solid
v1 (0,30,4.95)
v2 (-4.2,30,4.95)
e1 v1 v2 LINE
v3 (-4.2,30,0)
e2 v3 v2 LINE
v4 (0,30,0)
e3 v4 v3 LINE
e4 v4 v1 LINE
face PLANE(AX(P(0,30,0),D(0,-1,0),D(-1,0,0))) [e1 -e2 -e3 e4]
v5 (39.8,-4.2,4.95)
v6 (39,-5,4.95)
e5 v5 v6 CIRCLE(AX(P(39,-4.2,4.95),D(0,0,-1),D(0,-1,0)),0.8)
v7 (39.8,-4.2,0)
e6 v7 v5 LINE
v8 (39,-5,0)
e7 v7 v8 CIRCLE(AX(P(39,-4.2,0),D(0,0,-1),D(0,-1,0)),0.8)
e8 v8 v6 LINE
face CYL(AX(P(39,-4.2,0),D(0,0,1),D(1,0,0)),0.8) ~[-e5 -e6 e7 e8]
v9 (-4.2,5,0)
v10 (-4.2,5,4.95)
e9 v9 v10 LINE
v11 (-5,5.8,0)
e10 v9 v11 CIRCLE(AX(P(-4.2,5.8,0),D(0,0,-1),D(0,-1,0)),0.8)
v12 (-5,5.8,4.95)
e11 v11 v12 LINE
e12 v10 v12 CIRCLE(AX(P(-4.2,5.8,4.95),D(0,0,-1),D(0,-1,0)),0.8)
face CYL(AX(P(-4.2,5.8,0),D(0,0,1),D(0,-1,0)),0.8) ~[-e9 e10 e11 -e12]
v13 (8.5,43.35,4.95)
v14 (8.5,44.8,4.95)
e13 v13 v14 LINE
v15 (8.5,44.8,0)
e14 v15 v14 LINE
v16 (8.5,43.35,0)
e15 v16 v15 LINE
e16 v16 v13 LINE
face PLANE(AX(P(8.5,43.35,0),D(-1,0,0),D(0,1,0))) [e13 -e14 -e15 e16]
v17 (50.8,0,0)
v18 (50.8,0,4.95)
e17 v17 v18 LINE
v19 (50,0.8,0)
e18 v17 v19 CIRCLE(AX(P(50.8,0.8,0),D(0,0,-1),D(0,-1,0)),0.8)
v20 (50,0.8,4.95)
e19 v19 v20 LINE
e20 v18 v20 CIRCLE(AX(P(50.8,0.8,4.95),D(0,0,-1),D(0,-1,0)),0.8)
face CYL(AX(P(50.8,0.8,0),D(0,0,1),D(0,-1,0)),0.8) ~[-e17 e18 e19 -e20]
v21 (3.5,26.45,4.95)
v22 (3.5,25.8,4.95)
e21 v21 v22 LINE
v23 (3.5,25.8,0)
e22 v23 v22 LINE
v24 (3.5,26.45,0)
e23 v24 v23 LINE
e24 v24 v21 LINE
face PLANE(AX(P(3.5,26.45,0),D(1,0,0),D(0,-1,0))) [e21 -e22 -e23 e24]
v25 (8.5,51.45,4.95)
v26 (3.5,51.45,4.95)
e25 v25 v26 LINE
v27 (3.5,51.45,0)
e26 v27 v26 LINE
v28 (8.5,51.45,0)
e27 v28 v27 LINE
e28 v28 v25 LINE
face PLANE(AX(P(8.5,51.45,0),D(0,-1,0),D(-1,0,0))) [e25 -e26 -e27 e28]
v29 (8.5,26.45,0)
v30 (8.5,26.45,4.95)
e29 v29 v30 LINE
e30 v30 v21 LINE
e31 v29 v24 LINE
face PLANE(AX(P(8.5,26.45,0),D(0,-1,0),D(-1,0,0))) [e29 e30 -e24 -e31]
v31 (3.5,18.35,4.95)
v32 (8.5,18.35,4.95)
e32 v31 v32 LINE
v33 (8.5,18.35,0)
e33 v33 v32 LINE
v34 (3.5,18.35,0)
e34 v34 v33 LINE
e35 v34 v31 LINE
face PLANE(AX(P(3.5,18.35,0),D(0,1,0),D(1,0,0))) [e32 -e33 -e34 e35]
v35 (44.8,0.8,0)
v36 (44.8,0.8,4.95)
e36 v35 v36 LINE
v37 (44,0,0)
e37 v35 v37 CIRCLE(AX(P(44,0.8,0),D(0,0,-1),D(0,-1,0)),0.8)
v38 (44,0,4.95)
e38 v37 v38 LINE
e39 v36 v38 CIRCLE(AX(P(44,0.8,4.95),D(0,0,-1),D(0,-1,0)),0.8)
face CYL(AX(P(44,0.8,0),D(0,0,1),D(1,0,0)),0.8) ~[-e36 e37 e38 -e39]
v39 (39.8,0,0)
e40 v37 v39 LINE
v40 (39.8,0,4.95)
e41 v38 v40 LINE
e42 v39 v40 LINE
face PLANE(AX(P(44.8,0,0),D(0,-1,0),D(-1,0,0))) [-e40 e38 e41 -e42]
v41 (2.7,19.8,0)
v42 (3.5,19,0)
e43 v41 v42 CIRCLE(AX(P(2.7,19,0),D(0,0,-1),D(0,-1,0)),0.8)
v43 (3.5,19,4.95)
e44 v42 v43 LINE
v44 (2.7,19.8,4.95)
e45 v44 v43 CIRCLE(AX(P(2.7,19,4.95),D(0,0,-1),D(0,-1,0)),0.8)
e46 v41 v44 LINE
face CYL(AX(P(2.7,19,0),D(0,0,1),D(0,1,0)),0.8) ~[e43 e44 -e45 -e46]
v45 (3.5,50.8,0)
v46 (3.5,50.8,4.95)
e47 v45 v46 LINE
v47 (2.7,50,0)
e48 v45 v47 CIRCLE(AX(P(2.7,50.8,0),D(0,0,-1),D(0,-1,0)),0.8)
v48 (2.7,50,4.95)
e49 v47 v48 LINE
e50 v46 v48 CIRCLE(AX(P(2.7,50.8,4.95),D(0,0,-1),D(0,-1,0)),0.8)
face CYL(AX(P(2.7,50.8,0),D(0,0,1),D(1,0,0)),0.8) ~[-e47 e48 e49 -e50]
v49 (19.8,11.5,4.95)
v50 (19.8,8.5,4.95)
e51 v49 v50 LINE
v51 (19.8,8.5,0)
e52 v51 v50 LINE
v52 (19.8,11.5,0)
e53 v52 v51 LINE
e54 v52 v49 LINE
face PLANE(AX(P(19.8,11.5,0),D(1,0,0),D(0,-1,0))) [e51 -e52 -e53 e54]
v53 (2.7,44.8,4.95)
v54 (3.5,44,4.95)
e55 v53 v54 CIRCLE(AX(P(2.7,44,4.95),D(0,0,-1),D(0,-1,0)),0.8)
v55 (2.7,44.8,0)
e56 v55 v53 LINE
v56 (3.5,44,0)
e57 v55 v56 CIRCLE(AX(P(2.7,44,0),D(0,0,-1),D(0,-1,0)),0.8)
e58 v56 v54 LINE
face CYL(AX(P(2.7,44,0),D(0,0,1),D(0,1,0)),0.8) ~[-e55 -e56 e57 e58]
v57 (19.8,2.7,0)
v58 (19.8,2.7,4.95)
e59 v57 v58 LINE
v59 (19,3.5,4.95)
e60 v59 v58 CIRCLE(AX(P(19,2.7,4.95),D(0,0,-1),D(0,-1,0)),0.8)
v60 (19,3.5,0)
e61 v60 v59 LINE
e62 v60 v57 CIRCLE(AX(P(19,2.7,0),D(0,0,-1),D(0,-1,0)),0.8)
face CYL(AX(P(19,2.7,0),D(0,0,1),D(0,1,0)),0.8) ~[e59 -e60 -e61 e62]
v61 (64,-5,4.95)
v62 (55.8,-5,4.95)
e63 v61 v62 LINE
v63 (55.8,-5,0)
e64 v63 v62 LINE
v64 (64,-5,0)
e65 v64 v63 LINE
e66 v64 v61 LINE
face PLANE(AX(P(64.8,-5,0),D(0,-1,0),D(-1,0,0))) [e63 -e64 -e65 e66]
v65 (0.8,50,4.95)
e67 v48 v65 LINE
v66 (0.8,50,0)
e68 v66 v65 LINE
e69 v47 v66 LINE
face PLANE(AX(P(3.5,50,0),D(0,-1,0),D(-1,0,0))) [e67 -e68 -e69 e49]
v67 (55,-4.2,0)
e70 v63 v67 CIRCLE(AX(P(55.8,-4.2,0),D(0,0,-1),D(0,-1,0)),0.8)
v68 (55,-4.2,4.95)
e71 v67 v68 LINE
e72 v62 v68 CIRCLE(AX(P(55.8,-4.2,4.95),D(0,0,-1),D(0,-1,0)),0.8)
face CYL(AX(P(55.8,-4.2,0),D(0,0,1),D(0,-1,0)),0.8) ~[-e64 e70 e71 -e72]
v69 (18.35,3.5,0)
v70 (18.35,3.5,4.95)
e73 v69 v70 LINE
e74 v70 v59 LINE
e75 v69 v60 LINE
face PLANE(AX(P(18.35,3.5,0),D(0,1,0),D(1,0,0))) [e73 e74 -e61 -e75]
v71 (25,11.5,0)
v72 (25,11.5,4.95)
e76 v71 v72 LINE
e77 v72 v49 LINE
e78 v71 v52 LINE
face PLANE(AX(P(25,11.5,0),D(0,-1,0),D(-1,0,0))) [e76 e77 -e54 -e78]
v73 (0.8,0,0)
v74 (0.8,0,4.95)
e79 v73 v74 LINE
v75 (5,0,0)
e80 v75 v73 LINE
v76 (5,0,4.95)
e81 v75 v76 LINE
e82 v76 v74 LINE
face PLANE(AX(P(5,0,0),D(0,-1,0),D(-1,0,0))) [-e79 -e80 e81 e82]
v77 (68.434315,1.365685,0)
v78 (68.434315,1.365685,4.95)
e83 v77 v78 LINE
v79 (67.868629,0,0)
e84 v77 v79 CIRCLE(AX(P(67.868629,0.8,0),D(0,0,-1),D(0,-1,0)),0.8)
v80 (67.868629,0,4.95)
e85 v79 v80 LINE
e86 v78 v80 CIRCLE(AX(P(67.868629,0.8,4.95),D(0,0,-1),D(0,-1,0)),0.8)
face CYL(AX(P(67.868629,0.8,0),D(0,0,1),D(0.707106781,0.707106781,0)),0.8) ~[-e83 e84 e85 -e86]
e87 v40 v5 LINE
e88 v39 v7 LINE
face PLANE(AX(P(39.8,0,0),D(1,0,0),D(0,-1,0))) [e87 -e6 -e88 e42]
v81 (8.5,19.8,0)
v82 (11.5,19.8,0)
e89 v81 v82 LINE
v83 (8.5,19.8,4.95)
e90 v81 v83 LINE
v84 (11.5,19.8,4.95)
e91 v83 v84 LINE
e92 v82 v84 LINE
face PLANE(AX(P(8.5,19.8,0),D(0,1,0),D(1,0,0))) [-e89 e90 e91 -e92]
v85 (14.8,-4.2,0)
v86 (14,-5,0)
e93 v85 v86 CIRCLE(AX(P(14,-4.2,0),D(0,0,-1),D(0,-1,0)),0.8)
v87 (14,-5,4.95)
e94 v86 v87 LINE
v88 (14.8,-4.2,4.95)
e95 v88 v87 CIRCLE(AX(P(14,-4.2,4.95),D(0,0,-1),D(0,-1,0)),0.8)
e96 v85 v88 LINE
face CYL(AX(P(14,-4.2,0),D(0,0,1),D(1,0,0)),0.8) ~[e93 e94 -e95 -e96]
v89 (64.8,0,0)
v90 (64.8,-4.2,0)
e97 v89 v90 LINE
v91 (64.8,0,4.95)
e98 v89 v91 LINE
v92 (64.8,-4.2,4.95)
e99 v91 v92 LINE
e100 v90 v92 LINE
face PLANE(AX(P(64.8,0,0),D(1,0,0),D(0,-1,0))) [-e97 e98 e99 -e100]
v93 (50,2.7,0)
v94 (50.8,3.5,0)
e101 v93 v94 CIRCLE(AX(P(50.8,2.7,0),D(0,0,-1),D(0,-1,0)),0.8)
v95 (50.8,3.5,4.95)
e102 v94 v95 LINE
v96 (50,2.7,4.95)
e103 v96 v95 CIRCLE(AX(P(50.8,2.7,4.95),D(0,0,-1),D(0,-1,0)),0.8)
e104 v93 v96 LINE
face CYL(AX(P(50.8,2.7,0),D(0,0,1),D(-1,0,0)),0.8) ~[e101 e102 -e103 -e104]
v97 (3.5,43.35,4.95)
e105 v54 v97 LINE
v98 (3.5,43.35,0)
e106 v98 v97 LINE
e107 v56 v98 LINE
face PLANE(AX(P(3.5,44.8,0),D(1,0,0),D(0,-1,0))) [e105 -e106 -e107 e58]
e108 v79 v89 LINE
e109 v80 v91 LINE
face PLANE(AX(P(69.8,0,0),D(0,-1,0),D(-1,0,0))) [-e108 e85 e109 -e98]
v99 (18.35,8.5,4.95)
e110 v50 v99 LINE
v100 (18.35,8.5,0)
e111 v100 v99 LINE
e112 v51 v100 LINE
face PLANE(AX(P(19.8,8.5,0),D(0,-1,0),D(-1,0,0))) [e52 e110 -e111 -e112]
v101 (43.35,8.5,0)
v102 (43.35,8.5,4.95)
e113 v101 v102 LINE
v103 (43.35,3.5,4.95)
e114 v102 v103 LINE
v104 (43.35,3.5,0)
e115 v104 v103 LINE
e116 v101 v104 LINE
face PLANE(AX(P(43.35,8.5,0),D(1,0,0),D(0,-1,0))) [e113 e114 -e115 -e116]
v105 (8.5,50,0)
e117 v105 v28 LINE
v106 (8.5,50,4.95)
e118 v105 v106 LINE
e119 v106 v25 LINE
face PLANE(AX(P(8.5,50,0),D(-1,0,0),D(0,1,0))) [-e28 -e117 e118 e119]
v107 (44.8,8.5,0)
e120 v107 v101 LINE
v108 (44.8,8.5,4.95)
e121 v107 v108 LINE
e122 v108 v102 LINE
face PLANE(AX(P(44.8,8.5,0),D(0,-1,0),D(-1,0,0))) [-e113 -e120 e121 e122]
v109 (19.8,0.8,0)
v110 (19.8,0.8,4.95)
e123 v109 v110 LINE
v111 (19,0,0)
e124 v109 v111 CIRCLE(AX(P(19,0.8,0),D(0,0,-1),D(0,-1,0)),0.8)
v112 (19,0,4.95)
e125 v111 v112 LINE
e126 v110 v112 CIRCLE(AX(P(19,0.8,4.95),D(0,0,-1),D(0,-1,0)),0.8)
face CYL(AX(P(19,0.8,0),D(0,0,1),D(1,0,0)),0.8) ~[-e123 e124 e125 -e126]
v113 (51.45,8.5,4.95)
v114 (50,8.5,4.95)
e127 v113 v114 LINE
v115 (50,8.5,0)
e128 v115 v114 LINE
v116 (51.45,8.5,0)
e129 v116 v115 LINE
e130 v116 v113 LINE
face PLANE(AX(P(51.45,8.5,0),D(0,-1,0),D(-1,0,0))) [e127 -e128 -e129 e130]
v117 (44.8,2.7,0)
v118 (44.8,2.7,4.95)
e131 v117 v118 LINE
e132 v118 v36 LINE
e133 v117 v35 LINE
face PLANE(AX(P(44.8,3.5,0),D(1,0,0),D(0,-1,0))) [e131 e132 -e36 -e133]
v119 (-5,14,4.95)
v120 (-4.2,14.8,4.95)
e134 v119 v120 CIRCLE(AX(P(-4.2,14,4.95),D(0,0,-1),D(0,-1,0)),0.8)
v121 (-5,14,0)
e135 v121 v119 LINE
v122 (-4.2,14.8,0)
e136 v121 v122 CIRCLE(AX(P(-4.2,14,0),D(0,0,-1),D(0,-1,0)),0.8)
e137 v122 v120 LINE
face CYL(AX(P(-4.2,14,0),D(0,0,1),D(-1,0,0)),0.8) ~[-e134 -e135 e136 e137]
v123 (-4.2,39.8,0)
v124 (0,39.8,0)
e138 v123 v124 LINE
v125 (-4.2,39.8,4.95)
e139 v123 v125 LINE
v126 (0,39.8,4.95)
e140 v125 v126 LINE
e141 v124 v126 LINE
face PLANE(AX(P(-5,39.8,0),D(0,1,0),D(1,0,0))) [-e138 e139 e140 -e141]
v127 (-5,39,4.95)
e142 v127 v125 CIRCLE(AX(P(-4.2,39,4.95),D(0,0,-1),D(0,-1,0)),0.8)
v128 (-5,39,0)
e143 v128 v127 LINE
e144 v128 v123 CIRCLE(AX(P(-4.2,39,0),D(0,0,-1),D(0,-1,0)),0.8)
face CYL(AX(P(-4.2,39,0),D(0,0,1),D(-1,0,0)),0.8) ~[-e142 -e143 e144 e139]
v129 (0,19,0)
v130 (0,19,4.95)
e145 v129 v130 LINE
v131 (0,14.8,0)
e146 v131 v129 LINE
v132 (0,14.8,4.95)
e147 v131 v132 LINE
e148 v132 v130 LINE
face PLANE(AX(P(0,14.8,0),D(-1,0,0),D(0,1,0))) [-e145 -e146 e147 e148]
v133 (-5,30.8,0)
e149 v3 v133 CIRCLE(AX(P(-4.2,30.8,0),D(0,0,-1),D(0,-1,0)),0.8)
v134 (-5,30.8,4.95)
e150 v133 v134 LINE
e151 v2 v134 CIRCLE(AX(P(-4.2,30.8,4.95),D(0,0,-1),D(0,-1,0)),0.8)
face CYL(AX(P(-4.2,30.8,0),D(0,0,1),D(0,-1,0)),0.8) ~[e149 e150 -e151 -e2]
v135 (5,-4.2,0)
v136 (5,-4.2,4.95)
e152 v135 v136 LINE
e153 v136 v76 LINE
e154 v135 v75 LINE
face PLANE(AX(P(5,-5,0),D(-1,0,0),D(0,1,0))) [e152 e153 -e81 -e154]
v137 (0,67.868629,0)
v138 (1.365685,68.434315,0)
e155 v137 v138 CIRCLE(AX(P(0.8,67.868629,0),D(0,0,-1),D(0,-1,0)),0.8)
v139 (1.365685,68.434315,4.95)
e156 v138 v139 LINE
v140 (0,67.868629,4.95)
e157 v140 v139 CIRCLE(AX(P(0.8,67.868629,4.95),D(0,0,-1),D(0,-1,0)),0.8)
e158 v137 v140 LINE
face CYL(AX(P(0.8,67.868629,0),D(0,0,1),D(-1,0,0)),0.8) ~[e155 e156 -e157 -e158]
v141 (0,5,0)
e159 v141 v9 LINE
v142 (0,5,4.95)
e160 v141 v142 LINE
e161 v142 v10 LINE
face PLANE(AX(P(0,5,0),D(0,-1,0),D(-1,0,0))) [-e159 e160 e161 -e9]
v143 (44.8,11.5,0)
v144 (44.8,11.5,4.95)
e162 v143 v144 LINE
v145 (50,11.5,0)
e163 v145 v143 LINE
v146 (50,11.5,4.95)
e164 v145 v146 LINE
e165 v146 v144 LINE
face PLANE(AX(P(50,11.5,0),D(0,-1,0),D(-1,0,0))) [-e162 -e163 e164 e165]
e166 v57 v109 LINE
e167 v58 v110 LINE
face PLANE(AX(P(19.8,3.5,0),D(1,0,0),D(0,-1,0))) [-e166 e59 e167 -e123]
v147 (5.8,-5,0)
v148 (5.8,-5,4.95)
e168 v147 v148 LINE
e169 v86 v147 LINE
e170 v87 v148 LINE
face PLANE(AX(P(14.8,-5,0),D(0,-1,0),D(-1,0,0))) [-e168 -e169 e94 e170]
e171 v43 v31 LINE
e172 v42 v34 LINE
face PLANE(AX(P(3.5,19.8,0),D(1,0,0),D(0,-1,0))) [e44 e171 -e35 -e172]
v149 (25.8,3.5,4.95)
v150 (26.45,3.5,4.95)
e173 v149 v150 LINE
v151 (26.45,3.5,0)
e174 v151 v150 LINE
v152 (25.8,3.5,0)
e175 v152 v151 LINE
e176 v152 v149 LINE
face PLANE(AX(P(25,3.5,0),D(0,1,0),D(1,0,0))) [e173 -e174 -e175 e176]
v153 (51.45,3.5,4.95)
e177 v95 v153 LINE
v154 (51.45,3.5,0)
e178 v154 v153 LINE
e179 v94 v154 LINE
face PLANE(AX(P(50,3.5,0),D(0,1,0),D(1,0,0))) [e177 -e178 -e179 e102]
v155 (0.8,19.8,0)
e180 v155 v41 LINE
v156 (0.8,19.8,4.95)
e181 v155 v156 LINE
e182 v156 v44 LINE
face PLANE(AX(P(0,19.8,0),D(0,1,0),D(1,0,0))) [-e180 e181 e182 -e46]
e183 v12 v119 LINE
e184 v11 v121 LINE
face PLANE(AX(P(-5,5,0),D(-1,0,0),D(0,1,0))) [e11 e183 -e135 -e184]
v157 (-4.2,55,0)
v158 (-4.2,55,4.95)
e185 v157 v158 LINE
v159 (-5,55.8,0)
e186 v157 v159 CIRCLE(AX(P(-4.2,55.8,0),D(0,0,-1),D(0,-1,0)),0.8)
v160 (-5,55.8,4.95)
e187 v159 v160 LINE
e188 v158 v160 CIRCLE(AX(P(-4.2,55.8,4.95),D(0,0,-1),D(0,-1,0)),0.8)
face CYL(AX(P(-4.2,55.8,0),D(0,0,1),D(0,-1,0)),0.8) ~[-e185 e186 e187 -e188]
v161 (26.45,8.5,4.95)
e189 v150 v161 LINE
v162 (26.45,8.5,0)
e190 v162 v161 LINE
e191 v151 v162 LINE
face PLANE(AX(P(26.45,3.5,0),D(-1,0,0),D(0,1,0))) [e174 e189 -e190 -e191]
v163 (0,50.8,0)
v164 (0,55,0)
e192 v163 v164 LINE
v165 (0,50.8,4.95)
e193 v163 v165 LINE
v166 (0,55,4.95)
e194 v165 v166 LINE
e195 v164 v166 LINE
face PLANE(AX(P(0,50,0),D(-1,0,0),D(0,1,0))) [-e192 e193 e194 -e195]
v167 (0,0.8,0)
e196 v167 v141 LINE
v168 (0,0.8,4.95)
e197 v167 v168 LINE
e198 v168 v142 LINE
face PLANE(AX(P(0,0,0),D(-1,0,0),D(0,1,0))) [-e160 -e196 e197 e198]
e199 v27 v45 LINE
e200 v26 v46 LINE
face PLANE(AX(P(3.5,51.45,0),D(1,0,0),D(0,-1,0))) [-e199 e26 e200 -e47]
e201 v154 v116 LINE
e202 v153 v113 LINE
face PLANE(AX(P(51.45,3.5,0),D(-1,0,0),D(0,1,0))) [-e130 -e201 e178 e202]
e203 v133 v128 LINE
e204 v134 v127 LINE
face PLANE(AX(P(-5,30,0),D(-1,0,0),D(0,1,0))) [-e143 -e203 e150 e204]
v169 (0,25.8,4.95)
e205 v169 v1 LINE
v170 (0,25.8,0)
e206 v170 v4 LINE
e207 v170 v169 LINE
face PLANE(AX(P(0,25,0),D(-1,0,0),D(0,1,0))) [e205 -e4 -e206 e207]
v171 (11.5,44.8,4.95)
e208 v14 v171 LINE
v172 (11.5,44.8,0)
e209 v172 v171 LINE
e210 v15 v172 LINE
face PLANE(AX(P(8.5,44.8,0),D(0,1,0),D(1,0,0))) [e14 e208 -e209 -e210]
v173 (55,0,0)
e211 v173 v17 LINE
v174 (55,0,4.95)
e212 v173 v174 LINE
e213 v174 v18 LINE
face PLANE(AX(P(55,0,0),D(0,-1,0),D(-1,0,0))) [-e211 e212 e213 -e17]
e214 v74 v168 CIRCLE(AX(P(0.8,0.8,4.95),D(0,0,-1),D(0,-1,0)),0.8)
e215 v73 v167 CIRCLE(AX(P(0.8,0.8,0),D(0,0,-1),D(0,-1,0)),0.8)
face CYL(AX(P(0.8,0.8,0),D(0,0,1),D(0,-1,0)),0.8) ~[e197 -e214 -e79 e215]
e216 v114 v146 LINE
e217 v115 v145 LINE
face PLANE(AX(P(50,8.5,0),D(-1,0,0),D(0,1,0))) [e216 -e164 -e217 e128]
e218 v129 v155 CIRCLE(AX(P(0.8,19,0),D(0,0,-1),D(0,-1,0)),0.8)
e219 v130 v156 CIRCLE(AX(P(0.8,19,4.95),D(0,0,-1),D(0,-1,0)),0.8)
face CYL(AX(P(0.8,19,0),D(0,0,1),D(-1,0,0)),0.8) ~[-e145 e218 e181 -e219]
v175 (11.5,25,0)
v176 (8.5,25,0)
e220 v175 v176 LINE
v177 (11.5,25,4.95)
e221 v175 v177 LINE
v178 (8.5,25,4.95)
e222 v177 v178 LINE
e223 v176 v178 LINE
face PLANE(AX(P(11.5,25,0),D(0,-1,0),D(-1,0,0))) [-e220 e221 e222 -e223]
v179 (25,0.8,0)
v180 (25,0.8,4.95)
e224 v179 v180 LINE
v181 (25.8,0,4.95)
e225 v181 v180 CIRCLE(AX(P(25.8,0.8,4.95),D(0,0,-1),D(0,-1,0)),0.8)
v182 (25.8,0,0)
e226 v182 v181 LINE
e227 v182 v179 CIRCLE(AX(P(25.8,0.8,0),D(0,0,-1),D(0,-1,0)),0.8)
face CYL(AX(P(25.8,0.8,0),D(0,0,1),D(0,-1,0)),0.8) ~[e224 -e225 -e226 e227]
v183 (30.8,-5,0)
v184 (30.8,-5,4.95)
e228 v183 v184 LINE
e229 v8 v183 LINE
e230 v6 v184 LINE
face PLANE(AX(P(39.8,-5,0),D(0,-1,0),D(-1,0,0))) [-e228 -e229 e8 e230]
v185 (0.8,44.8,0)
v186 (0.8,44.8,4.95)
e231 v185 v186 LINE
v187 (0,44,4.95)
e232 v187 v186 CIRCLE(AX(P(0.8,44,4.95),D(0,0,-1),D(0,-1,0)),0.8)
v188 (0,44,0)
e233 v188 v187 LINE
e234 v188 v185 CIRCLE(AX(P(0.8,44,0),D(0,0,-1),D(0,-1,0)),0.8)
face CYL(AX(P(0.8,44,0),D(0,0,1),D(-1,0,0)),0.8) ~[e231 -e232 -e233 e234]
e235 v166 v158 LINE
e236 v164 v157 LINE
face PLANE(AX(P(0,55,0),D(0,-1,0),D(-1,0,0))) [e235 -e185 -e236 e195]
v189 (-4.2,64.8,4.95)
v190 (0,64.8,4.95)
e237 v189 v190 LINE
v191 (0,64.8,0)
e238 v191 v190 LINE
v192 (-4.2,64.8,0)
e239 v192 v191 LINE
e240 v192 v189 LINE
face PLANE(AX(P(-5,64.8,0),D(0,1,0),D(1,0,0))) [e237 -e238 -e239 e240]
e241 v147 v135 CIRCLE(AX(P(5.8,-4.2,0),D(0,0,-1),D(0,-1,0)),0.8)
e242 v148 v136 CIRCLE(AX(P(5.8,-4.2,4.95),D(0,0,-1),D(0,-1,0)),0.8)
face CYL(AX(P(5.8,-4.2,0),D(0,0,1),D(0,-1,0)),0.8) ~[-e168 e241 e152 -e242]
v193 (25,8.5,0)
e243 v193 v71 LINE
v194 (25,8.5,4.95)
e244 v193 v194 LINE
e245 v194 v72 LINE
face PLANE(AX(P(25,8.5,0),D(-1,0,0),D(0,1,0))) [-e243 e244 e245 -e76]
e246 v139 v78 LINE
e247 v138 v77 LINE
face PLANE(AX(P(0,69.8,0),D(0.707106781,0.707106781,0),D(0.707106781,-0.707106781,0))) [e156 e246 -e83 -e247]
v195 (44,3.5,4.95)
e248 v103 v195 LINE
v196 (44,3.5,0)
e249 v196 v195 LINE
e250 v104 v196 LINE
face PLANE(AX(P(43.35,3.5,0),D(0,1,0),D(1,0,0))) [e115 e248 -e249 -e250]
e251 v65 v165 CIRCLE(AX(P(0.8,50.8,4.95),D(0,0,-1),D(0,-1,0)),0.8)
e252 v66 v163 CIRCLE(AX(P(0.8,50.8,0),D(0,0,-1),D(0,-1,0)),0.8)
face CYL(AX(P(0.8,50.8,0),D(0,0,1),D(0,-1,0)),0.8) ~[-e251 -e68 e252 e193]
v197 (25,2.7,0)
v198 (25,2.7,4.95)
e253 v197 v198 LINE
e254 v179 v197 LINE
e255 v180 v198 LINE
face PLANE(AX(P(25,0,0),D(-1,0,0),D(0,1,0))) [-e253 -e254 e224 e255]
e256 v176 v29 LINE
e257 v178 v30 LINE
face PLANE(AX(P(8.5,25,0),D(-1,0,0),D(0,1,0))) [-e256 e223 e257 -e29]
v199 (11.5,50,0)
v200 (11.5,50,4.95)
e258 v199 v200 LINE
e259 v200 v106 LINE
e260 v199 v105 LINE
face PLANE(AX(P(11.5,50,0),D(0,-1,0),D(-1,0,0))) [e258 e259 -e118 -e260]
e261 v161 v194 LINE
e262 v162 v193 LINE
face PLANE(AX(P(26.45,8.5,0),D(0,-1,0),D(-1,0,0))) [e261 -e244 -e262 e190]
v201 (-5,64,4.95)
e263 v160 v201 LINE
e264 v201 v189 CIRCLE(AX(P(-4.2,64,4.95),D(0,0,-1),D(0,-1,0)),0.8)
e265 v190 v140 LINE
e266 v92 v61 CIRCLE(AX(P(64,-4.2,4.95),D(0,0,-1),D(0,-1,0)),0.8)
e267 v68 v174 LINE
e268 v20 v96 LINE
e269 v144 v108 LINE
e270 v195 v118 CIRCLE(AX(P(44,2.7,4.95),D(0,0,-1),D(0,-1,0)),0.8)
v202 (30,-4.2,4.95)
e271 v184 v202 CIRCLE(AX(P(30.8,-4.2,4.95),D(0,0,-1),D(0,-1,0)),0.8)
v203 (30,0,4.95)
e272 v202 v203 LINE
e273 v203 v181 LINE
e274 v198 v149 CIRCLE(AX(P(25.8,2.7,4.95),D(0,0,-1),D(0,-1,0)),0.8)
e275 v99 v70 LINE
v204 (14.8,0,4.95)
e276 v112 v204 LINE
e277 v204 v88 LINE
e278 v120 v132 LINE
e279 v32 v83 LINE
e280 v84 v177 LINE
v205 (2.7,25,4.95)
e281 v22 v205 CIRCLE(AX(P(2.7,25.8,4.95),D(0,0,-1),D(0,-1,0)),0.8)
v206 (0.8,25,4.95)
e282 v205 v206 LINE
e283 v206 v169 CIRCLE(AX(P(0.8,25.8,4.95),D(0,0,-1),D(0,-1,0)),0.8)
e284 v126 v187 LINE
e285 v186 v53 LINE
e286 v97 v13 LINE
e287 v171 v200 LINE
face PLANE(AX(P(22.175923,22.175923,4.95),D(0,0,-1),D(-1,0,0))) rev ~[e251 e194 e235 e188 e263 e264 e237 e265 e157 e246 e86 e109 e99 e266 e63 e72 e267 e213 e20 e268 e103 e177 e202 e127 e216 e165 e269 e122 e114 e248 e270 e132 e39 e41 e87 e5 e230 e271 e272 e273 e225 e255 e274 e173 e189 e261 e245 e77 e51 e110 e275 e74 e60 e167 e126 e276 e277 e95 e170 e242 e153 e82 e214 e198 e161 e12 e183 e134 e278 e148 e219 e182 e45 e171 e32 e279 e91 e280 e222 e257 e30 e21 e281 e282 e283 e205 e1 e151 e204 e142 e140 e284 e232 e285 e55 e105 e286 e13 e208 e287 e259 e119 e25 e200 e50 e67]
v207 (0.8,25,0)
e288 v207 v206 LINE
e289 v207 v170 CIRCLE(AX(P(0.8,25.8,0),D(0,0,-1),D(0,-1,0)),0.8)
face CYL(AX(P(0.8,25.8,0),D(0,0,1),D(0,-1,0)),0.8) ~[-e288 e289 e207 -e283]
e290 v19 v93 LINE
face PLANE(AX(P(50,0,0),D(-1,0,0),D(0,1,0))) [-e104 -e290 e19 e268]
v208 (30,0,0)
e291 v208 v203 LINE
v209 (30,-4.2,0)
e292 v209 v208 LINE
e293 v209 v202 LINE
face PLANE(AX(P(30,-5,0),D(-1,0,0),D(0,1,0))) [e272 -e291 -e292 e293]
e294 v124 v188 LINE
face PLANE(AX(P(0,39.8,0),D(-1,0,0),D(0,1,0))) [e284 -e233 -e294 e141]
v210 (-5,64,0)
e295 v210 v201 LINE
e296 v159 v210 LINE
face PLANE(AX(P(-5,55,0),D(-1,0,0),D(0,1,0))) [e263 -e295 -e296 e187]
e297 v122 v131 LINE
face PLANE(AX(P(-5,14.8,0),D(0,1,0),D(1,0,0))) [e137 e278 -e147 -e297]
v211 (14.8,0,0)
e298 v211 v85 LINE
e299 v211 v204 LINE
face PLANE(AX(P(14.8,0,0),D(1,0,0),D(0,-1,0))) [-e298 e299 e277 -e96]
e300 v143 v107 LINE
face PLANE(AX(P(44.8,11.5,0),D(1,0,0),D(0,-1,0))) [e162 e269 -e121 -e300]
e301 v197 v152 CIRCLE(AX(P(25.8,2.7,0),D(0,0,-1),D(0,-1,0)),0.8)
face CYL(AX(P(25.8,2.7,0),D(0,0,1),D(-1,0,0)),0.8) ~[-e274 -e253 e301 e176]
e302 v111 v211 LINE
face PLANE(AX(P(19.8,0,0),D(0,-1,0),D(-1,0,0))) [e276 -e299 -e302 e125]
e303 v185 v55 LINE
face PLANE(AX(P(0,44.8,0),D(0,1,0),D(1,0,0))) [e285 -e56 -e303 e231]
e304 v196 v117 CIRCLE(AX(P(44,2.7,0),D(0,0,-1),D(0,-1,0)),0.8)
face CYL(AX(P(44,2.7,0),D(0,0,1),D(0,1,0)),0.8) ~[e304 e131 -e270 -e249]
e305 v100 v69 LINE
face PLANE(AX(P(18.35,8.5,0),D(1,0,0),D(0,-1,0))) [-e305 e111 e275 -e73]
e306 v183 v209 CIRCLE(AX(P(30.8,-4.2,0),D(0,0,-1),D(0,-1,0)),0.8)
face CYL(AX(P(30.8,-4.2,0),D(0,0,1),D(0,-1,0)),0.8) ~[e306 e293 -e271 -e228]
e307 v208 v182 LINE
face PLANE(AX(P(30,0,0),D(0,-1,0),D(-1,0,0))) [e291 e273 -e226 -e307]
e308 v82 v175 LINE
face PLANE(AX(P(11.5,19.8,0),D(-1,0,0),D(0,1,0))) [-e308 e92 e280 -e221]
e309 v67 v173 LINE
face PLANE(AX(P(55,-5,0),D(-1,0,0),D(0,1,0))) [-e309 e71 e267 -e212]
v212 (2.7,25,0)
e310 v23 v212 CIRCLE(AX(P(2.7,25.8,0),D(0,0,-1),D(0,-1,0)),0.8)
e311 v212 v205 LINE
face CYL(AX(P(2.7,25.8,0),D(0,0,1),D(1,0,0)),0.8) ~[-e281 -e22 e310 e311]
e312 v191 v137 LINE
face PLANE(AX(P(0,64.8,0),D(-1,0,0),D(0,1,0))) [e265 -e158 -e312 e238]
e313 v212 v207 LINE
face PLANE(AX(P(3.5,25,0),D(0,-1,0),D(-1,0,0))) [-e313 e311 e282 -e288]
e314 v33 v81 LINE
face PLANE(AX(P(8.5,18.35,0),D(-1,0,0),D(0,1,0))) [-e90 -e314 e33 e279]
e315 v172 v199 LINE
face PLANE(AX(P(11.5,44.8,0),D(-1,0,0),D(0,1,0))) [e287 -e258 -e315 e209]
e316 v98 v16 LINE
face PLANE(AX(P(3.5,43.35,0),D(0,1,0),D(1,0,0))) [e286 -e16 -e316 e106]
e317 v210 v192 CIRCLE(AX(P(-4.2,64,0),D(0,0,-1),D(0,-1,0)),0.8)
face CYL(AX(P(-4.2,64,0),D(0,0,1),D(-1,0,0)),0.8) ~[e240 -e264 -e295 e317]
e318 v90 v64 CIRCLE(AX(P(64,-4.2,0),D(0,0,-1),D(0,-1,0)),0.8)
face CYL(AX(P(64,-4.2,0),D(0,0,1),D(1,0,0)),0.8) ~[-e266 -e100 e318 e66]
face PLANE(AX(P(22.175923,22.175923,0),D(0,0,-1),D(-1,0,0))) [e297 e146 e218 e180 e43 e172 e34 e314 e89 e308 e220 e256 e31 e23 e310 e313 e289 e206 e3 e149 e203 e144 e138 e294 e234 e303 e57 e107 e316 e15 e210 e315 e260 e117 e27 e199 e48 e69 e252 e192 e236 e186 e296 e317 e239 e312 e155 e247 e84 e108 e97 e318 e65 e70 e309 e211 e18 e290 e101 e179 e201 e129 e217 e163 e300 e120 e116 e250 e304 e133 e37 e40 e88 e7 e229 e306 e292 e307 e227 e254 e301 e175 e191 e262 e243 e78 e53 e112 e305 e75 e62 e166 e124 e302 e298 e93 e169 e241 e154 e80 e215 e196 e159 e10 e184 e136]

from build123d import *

# Parameters (mm, degrees)
BOSS_EXTRUDE1_DEPTH = 4.95
FILLET1_R           = 0.8


with BuildPart() as part:
    # Sketch2 → Boss-Extrude1 (new body)
    with BuildSketch(Plane.XY):
        Polygon((11.5, 25), (8.5, 25), (8.5, 26.45), (3.5, 26.45), (3.5, 25), (0, 25), (0, 30), (-5, 30), (-5, 39.8), (0, 39.8), (0, 44.8), (3.5, 44.8), (3.5, 43.35), (8.5, 43.35), (8.5, 44.8), (11.5, 44.8), (11.5, 50), (8.5, 50), (8.5, 51.45), (3.5, 51.45), (3.5, 50), (0, 50), (0, 55), (-5, 55), (-5, 64.8), (0, 64.8), (0, 69.8), (69.8, 0), (64.8, 0), (64.8, -5), (55, -5), (55, 0), (50, 0), (50, 3.5), (51.45, 3.5), (51.45, 8.5), (50, 8.5), (50, 11.5), (44.8, 11.5), (44.8, 8.5), (43.35, 8.5), (43.35, 3.5), (44.8, 3.5), (44.8, 0), (39.8, 0), (39.8, -5), (30, -5), (30, 0), (25, 0), (25, 3.5), (26.45, 3.5), (26.45, 8.5), (25, 8.5), (25, 11.5), (19.8, 11.5), (19.8, 8.5), (18.35, 8.5), (18.35, 3.5), (19.8, 3.5), (19.8, 0), (14.8, 0), (14.8, -5), (5, -5), (5, 0), (0, 0), (0, 5), (-5, 5), (-5, 14.8), (0, 14.8), (0, 19.8), (3.5, 19.8), (3.5, 18.35), (8.5, 18.35), (8.5, 19.8), (11.5, 19.8), align=None)
    extrude(amount=BOSS_EXTRUDE1_DEPTH)

    # Fillet1
    fillet1_edges = [part.edges().sort_by_distance(p)[0] for p in [
        (19.8, 3.5, 2.475),
        (19.8, 0, 2.475),
        (14.8, -5, 2.475),
        (5, -5, 2.475),
        (0, 0, 2.475),
        (-5, 5, 2.475),
        (-5, 14.8, 2.475),
        (0, 19.8, 2.475),
        (3.5, 19.8, 2.475),
        (3.5, 25, 2.475),
        (0, 25, 2.475),
        (-5, 30, 2.475),
        (-5, 39.8, 2.475),
        (0, 44.8, 2.475),
        (3.5, 44.8, 2.475),
        (3.5, 50, 2.475),
        (0, 50, 2.475),
        (-5, 55, 2.475),
        (-5, 64.8, 2.475),
        (0, 69.8, 2.475),
        (69.8, 0, 2.475),
        (64.8, -5, 2.475),
        (55, -5, 2.475),
        (50, 0, 2.475),
        (50, 3.5, 2.475),
        (44.8, 3.5, 2.475),
        (44.8, 0, 2.475),
        (39.8, -5, 2.475),
        (30, -5, 2.475),
        (25, 0, 2.475),
        (25, 3.5, 2.475),
    ]]
    fillet(fillet1_edges, radius=FILLET1_R)


solid = part.part
